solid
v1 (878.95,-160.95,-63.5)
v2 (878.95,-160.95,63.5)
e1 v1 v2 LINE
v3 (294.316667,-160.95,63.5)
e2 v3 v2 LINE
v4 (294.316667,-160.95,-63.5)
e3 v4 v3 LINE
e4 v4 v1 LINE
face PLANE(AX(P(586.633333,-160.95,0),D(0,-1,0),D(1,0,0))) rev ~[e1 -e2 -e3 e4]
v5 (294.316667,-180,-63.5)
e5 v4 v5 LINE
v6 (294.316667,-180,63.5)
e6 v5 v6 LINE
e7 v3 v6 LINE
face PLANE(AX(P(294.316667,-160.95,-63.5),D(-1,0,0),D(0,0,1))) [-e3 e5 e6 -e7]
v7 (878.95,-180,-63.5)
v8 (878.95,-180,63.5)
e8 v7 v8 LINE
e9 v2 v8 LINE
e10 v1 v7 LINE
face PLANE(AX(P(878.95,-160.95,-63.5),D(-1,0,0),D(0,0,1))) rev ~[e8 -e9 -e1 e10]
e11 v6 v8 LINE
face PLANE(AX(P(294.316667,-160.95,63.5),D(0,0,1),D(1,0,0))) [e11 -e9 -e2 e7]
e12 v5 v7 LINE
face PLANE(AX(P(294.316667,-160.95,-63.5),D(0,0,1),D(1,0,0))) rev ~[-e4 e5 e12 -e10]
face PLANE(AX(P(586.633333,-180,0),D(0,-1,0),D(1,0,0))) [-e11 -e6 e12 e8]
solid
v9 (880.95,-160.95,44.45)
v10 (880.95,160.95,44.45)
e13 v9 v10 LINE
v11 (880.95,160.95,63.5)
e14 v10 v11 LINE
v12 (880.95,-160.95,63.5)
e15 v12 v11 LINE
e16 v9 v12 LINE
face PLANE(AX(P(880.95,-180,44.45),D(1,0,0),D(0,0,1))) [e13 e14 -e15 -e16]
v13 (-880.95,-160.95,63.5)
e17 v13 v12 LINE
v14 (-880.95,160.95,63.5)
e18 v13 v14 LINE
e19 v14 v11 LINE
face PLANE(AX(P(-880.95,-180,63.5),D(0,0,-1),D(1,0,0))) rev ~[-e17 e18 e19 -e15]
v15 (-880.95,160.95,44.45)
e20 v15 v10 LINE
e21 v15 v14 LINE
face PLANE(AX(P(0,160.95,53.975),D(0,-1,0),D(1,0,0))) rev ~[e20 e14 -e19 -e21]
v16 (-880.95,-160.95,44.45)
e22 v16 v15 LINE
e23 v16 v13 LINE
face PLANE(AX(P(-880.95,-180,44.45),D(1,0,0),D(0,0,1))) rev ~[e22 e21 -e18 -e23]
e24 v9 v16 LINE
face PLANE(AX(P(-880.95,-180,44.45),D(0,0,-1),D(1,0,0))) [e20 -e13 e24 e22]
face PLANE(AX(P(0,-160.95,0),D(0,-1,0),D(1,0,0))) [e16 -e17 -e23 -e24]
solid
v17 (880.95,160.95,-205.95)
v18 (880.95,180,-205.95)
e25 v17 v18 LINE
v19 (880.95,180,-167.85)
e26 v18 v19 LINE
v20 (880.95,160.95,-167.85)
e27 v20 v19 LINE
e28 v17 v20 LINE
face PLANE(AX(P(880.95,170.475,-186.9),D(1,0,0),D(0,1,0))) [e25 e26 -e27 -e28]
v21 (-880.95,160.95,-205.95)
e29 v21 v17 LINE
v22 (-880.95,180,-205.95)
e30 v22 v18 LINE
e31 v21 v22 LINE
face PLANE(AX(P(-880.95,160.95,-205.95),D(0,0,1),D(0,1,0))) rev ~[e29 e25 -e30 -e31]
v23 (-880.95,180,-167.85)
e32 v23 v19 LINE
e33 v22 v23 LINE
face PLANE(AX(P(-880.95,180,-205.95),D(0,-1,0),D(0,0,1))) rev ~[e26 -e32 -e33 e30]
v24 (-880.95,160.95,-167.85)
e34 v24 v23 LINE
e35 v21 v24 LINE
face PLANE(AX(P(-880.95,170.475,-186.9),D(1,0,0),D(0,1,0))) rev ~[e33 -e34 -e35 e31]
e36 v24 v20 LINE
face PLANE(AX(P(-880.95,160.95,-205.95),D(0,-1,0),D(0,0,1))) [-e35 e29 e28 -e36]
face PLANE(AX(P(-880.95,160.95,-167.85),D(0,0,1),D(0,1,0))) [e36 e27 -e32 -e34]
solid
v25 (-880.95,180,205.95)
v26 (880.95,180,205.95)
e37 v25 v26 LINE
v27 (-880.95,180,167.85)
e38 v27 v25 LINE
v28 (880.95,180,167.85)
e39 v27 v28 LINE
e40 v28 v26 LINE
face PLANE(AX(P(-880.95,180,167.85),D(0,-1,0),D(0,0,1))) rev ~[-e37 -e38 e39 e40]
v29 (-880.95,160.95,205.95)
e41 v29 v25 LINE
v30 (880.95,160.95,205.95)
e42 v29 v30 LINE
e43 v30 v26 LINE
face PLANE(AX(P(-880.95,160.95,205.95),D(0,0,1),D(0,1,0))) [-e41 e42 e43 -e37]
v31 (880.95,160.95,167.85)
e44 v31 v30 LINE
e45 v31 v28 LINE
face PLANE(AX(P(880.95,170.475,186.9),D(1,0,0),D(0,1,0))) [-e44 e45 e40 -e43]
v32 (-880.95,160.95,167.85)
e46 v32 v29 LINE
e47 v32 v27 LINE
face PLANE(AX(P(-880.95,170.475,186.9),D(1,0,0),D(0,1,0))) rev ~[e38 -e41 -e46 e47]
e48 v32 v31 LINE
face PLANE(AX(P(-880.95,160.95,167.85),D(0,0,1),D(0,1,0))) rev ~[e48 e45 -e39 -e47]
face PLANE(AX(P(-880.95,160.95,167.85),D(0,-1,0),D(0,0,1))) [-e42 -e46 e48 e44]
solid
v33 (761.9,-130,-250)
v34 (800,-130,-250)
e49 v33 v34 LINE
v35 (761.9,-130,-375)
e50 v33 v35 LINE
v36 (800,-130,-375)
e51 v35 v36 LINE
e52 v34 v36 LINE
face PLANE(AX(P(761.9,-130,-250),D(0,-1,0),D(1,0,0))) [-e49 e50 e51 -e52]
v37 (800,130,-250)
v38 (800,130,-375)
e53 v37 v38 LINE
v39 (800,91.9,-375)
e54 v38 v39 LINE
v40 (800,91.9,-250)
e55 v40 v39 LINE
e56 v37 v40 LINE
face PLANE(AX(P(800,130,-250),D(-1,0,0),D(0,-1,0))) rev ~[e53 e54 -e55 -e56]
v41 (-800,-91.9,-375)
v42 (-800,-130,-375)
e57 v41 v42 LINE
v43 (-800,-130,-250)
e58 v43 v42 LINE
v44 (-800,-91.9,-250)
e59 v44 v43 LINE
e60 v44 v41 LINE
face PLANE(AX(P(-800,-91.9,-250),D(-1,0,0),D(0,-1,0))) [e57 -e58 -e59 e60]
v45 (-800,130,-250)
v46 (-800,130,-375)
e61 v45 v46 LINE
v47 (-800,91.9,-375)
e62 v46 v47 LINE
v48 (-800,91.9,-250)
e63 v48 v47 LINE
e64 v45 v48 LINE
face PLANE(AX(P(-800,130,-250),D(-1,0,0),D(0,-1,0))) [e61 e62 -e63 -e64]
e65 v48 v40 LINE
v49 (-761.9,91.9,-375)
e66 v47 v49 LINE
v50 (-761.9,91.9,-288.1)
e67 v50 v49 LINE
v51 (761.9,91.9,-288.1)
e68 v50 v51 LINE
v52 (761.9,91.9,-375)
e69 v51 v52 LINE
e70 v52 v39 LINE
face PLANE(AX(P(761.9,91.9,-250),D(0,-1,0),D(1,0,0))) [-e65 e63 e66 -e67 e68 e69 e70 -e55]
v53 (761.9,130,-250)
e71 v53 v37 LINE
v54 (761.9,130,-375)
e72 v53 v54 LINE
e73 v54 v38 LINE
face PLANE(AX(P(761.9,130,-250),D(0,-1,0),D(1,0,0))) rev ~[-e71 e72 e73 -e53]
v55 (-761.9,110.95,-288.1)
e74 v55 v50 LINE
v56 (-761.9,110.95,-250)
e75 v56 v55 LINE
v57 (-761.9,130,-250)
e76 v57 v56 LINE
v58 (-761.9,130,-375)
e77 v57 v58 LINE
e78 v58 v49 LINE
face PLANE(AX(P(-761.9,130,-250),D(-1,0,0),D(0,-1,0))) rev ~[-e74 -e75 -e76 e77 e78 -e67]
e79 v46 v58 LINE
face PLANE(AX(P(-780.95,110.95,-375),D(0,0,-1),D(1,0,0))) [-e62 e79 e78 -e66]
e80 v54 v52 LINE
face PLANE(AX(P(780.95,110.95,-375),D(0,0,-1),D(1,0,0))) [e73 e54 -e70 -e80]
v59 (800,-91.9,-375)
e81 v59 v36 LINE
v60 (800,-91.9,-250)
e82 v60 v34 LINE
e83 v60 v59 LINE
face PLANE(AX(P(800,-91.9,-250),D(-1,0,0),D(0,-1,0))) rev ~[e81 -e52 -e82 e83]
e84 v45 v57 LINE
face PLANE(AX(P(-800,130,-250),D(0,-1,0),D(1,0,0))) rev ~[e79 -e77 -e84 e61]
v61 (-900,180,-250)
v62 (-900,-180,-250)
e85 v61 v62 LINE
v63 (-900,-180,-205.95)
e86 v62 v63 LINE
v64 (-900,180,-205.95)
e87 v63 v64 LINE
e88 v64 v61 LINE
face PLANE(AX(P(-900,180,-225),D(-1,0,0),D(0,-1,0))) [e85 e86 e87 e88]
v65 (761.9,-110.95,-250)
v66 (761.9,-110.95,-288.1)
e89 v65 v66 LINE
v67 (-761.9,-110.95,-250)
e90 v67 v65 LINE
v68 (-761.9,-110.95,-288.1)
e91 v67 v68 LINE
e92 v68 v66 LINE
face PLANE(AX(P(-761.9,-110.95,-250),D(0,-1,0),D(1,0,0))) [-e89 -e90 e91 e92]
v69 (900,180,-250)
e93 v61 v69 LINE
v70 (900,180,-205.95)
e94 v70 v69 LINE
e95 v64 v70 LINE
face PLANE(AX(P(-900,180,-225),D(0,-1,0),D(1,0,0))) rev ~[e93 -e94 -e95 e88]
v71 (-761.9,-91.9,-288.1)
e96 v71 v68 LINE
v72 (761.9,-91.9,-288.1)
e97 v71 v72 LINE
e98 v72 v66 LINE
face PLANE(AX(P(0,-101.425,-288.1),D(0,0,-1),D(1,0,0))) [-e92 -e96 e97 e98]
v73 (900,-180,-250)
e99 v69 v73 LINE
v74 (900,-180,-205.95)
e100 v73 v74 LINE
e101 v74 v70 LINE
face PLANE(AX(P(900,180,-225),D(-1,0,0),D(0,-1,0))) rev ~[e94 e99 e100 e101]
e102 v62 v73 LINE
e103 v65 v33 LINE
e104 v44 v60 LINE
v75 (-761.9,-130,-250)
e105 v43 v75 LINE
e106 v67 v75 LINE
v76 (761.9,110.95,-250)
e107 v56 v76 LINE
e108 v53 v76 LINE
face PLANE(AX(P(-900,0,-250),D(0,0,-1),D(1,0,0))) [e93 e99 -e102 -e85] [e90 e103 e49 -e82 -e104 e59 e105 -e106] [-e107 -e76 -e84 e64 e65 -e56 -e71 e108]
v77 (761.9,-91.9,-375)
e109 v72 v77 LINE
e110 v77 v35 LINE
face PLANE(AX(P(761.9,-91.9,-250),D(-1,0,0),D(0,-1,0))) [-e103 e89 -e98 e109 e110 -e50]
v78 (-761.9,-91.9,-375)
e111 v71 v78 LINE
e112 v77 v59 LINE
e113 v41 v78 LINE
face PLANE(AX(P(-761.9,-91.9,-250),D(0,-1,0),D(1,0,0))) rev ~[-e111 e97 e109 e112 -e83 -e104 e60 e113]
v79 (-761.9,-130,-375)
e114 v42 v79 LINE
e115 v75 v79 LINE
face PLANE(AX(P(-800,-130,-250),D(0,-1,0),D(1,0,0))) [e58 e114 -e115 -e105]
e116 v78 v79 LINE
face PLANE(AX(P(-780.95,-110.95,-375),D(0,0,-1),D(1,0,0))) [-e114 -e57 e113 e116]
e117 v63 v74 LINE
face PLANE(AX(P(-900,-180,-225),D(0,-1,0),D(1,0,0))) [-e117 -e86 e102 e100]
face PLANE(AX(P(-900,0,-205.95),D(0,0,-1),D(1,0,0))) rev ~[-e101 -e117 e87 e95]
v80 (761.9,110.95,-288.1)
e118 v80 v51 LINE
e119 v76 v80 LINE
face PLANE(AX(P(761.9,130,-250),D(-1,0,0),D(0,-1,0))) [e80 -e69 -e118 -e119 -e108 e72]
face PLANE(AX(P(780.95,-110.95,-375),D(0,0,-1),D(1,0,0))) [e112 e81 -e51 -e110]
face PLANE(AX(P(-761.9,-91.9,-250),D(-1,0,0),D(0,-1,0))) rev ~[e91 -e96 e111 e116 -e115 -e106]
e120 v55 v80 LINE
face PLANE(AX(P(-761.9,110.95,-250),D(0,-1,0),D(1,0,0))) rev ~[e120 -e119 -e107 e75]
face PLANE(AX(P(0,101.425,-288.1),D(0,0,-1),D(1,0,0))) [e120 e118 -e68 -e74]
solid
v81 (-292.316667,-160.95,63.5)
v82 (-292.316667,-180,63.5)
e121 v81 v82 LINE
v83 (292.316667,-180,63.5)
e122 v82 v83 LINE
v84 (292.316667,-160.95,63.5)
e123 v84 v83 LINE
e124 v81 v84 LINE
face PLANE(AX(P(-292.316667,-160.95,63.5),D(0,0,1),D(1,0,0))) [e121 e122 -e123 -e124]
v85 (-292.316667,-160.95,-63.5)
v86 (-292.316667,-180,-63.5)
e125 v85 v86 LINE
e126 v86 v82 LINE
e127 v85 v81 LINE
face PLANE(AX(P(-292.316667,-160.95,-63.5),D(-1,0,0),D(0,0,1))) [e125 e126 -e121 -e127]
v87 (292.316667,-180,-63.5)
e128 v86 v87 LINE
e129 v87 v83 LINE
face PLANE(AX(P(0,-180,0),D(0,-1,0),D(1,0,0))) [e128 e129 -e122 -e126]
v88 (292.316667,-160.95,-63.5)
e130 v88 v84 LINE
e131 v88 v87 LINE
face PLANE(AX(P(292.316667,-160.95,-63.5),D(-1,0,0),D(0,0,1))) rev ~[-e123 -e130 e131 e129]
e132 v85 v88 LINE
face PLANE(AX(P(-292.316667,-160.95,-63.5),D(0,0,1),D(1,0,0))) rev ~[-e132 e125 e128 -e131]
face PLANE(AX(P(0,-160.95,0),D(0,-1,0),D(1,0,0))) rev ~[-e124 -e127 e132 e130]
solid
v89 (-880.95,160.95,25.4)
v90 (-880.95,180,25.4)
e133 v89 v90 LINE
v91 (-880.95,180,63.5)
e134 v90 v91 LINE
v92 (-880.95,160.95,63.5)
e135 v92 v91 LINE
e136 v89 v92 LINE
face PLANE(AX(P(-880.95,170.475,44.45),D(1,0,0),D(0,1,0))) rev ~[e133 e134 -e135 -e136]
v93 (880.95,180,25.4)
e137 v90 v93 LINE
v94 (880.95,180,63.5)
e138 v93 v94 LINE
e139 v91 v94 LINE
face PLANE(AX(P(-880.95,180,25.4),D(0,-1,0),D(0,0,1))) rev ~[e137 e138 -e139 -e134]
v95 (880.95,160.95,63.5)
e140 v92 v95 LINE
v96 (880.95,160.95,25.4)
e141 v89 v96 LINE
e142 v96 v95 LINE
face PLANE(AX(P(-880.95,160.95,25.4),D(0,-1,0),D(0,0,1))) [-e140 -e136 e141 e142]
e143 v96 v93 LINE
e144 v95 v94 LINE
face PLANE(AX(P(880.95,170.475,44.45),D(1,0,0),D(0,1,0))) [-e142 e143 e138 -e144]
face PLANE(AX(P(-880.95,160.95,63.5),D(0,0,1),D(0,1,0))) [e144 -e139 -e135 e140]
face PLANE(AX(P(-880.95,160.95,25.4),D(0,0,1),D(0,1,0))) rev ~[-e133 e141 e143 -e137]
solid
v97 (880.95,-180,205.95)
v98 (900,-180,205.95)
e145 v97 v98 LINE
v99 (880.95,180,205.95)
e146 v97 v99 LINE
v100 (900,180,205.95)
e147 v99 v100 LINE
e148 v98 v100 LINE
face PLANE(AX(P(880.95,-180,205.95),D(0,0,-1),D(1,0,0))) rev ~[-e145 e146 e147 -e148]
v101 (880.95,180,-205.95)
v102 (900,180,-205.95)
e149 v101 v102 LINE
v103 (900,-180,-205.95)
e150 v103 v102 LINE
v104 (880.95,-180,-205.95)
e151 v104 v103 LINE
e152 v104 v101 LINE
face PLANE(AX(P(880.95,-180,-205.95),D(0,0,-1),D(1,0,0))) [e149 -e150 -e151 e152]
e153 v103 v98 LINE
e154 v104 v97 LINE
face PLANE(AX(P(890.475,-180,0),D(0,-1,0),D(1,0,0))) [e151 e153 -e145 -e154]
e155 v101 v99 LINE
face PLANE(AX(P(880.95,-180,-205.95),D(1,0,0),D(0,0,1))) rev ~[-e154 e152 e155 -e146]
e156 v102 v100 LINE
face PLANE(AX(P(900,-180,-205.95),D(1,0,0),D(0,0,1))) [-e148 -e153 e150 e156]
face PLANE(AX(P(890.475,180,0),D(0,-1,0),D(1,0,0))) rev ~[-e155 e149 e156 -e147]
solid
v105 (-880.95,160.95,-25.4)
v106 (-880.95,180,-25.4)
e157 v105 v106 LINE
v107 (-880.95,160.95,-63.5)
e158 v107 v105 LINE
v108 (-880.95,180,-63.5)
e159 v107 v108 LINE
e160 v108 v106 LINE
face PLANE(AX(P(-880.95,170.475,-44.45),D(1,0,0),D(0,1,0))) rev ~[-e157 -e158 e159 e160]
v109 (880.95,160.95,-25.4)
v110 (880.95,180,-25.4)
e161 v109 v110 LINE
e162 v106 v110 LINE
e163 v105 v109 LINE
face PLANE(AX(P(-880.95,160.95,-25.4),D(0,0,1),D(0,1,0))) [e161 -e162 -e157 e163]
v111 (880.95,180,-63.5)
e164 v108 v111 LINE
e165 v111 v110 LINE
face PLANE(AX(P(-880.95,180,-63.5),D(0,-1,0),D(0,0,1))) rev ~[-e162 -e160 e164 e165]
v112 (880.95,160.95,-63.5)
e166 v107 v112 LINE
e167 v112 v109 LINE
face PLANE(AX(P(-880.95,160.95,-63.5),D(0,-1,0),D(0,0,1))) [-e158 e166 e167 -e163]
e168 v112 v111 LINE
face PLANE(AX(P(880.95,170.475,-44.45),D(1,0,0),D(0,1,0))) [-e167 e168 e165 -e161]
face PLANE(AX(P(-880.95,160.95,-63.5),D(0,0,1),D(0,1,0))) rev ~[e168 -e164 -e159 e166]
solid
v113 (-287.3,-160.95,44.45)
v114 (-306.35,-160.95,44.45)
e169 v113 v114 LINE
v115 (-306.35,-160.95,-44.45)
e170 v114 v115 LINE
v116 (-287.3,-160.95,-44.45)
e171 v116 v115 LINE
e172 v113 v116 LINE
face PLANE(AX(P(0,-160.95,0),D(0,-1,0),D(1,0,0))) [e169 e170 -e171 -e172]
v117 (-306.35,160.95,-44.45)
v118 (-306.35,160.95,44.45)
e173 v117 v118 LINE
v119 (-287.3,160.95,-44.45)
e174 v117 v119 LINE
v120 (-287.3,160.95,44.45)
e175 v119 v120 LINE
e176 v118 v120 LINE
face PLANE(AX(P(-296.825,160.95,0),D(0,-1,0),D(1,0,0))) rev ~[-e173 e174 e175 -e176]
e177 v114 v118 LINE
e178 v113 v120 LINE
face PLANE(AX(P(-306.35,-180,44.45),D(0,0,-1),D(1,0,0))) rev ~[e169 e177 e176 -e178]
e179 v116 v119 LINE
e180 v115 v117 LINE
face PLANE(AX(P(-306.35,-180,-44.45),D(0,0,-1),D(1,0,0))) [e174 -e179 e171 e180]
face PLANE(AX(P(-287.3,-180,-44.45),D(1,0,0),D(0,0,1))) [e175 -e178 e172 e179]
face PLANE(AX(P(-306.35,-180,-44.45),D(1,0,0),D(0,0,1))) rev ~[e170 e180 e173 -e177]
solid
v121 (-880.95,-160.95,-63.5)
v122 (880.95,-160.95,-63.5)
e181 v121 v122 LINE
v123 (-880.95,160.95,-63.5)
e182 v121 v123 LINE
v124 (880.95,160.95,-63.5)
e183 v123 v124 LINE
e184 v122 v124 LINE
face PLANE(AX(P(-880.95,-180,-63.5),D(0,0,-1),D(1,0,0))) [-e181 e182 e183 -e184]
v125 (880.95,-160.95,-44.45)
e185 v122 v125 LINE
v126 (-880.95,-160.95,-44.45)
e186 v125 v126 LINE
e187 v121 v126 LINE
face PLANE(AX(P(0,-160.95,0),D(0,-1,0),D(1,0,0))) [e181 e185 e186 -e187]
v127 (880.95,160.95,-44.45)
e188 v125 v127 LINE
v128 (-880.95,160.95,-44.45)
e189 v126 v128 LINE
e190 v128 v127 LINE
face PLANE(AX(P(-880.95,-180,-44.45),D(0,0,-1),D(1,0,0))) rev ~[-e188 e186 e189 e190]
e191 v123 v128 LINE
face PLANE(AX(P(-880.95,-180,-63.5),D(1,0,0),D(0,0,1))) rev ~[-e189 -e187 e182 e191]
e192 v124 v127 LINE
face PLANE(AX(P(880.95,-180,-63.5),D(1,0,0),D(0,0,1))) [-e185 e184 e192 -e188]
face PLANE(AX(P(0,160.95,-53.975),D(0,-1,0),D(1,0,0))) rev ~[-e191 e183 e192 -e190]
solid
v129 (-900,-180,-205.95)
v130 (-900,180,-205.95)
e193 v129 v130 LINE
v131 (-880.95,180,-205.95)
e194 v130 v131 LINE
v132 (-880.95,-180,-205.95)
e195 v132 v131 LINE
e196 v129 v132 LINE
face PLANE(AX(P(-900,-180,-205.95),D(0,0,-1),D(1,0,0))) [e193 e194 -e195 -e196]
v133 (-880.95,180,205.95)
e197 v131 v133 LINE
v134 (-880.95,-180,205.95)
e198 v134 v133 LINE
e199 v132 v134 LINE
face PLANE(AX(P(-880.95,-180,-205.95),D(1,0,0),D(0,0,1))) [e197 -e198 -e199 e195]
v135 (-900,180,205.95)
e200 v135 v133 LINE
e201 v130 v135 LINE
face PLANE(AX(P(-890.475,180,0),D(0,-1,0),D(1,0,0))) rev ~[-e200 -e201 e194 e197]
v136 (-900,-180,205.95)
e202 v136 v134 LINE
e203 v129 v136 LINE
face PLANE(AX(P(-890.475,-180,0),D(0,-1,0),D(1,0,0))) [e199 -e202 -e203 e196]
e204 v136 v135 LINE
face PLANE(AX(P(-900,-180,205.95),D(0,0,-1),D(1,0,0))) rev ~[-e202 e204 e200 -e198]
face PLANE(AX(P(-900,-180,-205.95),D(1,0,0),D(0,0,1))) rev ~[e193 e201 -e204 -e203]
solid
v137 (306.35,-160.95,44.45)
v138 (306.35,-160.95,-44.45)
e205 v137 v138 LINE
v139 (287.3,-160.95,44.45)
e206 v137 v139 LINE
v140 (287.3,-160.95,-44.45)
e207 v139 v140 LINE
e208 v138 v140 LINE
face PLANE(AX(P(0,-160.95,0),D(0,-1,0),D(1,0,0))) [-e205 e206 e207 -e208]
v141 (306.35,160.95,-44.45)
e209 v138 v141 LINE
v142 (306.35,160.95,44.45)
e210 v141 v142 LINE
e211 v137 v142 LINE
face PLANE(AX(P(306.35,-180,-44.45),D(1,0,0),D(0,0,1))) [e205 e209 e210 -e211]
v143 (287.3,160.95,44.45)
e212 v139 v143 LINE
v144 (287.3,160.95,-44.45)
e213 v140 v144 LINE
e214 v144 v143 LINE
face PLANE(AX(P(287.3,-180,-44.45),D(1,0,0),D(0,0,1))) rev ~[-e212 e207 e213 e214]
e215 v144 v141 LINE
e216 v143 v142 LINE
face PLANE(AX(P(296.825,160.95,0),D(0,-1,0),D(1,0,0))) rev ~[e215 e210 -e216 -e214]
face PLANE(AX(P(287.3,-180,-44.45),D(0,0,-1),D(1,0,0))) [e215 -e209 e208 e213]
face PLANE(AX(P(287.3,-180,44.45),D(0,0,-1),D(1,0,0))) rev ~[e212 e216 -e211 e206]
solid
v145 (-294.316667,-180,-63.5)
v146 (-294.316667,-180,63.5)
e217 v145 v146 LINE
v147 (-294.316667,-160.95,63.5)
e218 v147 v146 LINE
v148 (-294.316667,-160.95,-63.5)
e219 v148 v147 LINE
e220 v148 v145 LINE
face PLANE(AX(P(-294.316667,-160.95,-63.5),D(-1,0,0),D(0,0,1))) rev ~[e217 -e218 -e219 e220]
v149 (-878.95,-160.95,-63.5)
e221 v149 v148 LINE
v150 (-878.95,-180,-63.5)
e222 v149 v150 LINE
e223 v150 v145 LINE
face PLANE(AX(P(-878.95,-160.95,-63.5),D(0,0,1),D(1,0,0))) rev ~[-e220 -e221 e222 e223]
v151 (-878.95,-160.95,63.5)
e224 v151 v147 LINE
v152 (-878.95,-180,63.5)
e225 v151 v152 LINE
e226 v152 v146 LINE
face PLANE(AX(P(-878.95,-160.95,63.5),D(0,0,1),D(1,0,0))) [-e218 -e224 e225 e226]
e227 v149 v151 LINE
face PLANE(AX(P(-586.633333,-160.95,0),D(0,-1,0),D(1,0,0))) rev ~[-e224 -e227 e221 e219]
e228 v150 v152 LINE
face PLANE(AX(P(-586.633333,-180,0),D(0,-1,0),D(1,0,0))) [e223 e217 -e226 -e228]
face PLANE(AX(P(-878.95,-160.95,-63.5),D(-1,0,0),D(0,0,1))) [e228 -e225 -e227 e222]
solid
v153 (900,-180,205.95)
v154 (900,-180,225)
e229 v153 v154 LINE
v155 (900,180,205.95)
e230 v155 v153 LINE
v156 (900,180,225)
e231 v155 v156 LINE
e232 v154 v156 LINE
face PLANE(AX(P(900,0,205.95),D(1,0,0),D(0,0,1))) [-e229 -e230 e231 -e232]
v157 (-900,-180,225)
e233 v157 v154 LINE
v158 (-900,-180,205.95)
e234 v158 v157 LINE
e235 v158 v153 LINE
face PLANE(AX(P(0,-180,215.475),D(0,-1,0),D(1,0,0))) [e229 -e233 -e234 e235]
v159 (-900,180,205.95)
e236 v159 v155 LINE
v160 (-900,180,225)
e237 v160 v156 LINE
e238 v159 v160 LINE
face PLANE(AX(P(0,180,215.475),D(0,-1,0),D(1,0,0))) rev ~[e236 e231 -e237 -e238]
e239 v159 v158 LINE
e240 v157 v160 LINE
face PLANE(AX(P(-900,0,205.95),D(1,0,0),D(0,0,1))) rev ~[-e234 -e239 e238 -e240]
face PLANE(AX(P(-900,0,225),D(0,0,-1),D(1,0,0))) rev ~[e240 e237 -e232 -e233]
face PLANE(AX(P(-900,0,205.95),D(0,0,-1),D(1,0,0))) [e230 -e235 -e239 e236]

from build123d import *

# Parameters (mm, degrees)
F0_W      = 1800
F0_H      = 19.05
F1_DEPTH  = 180
F2_W      = 19.05
F2_H      = 411.9
F3_DEPTH  = 360
F4_W      = 1761.9
F4_H      = 19.05
F5_DEPTH  = 340.95
F6_W      = 19.05
F6_H      = 38.1
F7_DEPTH  = 1761.9
F8_W      = 19.05
F8_H      = 88.9
F9_DEPTH  = 340.95
F10_W     = 1761.9
F10_H     = 127
F11_DEPTH = 19.05
F12_W     = 584.6333333333
F12_H     = 127
F13_DEPTH = 19.05
F14_DEPTH = 25
F15_W     = 38.1
F15_H     = 38.1
F16_DEPTH = 125
F17_W     = 1523.8
F17_H     = 19.05
F18_DEPTH = 38.1


with BuildPart() as f1:
    # F0 (on Front) → F1 (new body, symmetric)
    with BuildSketch(Plane.XZ):
        with Locations((0, 215.475)):
            Rectangle(F0_W, F0_H)
    extrude(amount=F1_DEPTH, both=True)


with BuildPart() as f1b:
    # F0 (on Front) → F1, piece 2 (new body, symmetric)
    with BuildSketch(Plane.XZ):
        with Locations((0, -215.475)):
            Rectangle(F0_W, F0_H)
    extrude(amount=F1_DEPTH, both=True)

    # F14 (add): a face of the model
    f14_faces = [f1b.faces().sort_by_distance(p)[0] for p in [
        (0, 0, -225),
    ]]
    extrude(f14_faces, amount=F14_DEPTH)

    # F15 (on face) → F16 (join)
    with BuildSketch(Plane(origin=(0, 0, -250), x_dir=(1, 0, 0), z_dir=(0, 0, -1))):
        with Locations((-780.95, 110.95)):
            Rectangle(F15_W, F15_H)
        with Locations((780.95, 110.95)):
            Rectangle(F15_W, F15_H)
        with Locations((-780.95, -110.95)):
            Rectangle(F15_W, F15_H)
        with Locations((780.95, -110.95)):
            Rectangle(F15_W, F15_H)
    extrude(amount=F16_DEPTH)

    # F17 (on face) → F18 (join)
    with BuildSketch(Plane(origin=(0, 0, -250), x_dir=(1, 0, 0), z_dir=(0, 0, -1))):
        with Locations((0, 101.425)):
            Rectangle(F17_W, F17_H)
        with Locations((0, -101.425)):
            Rectangle(F17_W, F17_H)
    extrude(amount=F18_DEPTH)


with BuildPart() as f3:
    # F2 (on face) → F3 (new body, through all)
    with BuildSketch(Plane.XZ.offset(180)):
        with Locations((-890.475, 0)):
            Rectangle(F2_W, F2_H)
    extrude(amount=-F3_DEPTH)


with BuildPart() as f3b:
    # F2 (on face) → F3, piece 2 (new body, through all)
    with BuildSketch(Plane.XZ.offset(180)):
        with Locations((890.475, 0)):
            Rectangle(F2_W, F2_H)
    extrude(amount=-F3_DEPTH)


with BuildPart() as f5:
    # F4 (on face) → F5 (new body)
    with BuildSketch(Plane.XZ.offset(180)):
        with Locations((0, 53.975)):
            Rectangle(F4_W, F4_H)
    extrude(amount=-F5_DEPTH)


with BuildPart() as f5b:
    # F4 (on face) → F5, piece 2 (new body)
    with BuildSketch(Plane.XZ.offset(180)):
        with Locations((0, -53.975)):
            Rectangle(F4_W, F4_H)
    extrude(amount=-F5_DEPTH)


with BuildPart() as f7:
    # F6 (on face) → F7 (new body, through all)
    with BuildSketch(Plane.YZ.offset(-880.95)):
        with Locations((170.475, 44.45)):
            Rectangle(F6_W, F6_H)
    extrude(amount=F7_DEPTH)


with BuildPart() as f7b:
    # F6 (on face) → F7, piece 2 (new body, through all)
    with BuildSketch(Plane.YZ.offset(-880.95)):
        with Locations((170.475, -44.45)):
            Rectangle(F6_W, F6_H)
    extrude(amount=F7_DEPTH)


with BuildPart() as f7c:
    # F6 (on face) → F7, piece 3 (new body, through all)
    with BuildSketch(Plane.YZ.offset(-880.95)):
        with Locations((170.475, 186.9)):
            Rectangle(F6_W, F6_H)
    extrude(amount=F7_DEPTH)


with BuildPart() as f7d:
    # F6 (on face) → F7, piece 4 (new body, through all)
    with BuildSketch(Plane.YZ.offset(-880.95)):
        with Locations((170.475, -186.9)):
            Rectangle(F6_W, F6_H)
    extrude(amount=F7_DEPTH)


with BuildPart() as f9:
    # F8 (on face) → F9 (new body, through all)
    with BuildSketch(Plane.XZ.offset(180)):
        with Locations((-296.825, 0)):
            Rectangle(F8_W, F8_H)
    extrude(amount=-F9_DEPTH)


with BuildPart() as f9b:
    # F8 (on face) → F9, piece 2 (new body, through all)
    with BuildSketch(Plane.XZ.offset(180)):
        with Locations((296.825, 0)):
            Rectangle(F8_W, F8_H)
    extrude(amount=-F9_DEPTH)


with BuildPart() as f11_tool:
    # F10 (on face) → F11 (new body)
    with BuildSketch(Plane.XZ.offset(180)):
        Rectangle(F10_W, F10_H)
    extrude(amount=-F11_DEPTH)


with BuildPart() as f5_1:
    add(f5.part)

    # F11: cut by f11_tool
    add(f11_tool.part, mode=Mode.SUBTRACT)


with BuildPart() as f5b_1:
    add(f5b.part)

    # F11: cut by f11_tool
    add(f11_tool.part, mode=Mode.SUBTRACT)


with BuildPart() as f9_1:
    add(f9.part)

    # F11: cut by f11_tool
    add(f11_tool.part, mode=Mode.SUBTRACT)


with BuildPart() as f9b_1:
    add(f9b.part)

    # F11: cut by f11_tool
    add(f11_tool.part, mode=Mode.SUBTRACT)


with BuildPart() as f13:
    # F12 (on face) → F13 (new body)
    with BuildSketch(Plane.XZ.offset(160.95)):
        with Locations((-586.6333333333, 0)):
            Rectangle(F12_W, F12_H)
    extrude(amount=F13_DEPTH)


with BuildPart() as f13b:
    # F12 (on face) → F13, piece 2 (new body)
    with BuildSketch(Plane.XZ.offset(160.95)):
        Rectangle(F12_W, F12_H)
    extrude(amount=F13_DEPTH)


with BuildPart() as f13c:
    # F12 (on face) → F13, piece 3 (new body)
    with BuildSketch(Plane.XZ.offset(160.95)):
        with Locations((586.6333333333, 0)):
            Rectangle(F12_W, F12_H)
    extrude(amount=F13_DEPTH)


solid = Compound([f1.part, f1b.part, f3.part, f3b.part, f7.part, f7b.part, f7c.part, f7d.part, f5_1.part, f5b_1.part, f9_1.part, f9b_1.part, f13.part, f13b.part, f13c.part])
